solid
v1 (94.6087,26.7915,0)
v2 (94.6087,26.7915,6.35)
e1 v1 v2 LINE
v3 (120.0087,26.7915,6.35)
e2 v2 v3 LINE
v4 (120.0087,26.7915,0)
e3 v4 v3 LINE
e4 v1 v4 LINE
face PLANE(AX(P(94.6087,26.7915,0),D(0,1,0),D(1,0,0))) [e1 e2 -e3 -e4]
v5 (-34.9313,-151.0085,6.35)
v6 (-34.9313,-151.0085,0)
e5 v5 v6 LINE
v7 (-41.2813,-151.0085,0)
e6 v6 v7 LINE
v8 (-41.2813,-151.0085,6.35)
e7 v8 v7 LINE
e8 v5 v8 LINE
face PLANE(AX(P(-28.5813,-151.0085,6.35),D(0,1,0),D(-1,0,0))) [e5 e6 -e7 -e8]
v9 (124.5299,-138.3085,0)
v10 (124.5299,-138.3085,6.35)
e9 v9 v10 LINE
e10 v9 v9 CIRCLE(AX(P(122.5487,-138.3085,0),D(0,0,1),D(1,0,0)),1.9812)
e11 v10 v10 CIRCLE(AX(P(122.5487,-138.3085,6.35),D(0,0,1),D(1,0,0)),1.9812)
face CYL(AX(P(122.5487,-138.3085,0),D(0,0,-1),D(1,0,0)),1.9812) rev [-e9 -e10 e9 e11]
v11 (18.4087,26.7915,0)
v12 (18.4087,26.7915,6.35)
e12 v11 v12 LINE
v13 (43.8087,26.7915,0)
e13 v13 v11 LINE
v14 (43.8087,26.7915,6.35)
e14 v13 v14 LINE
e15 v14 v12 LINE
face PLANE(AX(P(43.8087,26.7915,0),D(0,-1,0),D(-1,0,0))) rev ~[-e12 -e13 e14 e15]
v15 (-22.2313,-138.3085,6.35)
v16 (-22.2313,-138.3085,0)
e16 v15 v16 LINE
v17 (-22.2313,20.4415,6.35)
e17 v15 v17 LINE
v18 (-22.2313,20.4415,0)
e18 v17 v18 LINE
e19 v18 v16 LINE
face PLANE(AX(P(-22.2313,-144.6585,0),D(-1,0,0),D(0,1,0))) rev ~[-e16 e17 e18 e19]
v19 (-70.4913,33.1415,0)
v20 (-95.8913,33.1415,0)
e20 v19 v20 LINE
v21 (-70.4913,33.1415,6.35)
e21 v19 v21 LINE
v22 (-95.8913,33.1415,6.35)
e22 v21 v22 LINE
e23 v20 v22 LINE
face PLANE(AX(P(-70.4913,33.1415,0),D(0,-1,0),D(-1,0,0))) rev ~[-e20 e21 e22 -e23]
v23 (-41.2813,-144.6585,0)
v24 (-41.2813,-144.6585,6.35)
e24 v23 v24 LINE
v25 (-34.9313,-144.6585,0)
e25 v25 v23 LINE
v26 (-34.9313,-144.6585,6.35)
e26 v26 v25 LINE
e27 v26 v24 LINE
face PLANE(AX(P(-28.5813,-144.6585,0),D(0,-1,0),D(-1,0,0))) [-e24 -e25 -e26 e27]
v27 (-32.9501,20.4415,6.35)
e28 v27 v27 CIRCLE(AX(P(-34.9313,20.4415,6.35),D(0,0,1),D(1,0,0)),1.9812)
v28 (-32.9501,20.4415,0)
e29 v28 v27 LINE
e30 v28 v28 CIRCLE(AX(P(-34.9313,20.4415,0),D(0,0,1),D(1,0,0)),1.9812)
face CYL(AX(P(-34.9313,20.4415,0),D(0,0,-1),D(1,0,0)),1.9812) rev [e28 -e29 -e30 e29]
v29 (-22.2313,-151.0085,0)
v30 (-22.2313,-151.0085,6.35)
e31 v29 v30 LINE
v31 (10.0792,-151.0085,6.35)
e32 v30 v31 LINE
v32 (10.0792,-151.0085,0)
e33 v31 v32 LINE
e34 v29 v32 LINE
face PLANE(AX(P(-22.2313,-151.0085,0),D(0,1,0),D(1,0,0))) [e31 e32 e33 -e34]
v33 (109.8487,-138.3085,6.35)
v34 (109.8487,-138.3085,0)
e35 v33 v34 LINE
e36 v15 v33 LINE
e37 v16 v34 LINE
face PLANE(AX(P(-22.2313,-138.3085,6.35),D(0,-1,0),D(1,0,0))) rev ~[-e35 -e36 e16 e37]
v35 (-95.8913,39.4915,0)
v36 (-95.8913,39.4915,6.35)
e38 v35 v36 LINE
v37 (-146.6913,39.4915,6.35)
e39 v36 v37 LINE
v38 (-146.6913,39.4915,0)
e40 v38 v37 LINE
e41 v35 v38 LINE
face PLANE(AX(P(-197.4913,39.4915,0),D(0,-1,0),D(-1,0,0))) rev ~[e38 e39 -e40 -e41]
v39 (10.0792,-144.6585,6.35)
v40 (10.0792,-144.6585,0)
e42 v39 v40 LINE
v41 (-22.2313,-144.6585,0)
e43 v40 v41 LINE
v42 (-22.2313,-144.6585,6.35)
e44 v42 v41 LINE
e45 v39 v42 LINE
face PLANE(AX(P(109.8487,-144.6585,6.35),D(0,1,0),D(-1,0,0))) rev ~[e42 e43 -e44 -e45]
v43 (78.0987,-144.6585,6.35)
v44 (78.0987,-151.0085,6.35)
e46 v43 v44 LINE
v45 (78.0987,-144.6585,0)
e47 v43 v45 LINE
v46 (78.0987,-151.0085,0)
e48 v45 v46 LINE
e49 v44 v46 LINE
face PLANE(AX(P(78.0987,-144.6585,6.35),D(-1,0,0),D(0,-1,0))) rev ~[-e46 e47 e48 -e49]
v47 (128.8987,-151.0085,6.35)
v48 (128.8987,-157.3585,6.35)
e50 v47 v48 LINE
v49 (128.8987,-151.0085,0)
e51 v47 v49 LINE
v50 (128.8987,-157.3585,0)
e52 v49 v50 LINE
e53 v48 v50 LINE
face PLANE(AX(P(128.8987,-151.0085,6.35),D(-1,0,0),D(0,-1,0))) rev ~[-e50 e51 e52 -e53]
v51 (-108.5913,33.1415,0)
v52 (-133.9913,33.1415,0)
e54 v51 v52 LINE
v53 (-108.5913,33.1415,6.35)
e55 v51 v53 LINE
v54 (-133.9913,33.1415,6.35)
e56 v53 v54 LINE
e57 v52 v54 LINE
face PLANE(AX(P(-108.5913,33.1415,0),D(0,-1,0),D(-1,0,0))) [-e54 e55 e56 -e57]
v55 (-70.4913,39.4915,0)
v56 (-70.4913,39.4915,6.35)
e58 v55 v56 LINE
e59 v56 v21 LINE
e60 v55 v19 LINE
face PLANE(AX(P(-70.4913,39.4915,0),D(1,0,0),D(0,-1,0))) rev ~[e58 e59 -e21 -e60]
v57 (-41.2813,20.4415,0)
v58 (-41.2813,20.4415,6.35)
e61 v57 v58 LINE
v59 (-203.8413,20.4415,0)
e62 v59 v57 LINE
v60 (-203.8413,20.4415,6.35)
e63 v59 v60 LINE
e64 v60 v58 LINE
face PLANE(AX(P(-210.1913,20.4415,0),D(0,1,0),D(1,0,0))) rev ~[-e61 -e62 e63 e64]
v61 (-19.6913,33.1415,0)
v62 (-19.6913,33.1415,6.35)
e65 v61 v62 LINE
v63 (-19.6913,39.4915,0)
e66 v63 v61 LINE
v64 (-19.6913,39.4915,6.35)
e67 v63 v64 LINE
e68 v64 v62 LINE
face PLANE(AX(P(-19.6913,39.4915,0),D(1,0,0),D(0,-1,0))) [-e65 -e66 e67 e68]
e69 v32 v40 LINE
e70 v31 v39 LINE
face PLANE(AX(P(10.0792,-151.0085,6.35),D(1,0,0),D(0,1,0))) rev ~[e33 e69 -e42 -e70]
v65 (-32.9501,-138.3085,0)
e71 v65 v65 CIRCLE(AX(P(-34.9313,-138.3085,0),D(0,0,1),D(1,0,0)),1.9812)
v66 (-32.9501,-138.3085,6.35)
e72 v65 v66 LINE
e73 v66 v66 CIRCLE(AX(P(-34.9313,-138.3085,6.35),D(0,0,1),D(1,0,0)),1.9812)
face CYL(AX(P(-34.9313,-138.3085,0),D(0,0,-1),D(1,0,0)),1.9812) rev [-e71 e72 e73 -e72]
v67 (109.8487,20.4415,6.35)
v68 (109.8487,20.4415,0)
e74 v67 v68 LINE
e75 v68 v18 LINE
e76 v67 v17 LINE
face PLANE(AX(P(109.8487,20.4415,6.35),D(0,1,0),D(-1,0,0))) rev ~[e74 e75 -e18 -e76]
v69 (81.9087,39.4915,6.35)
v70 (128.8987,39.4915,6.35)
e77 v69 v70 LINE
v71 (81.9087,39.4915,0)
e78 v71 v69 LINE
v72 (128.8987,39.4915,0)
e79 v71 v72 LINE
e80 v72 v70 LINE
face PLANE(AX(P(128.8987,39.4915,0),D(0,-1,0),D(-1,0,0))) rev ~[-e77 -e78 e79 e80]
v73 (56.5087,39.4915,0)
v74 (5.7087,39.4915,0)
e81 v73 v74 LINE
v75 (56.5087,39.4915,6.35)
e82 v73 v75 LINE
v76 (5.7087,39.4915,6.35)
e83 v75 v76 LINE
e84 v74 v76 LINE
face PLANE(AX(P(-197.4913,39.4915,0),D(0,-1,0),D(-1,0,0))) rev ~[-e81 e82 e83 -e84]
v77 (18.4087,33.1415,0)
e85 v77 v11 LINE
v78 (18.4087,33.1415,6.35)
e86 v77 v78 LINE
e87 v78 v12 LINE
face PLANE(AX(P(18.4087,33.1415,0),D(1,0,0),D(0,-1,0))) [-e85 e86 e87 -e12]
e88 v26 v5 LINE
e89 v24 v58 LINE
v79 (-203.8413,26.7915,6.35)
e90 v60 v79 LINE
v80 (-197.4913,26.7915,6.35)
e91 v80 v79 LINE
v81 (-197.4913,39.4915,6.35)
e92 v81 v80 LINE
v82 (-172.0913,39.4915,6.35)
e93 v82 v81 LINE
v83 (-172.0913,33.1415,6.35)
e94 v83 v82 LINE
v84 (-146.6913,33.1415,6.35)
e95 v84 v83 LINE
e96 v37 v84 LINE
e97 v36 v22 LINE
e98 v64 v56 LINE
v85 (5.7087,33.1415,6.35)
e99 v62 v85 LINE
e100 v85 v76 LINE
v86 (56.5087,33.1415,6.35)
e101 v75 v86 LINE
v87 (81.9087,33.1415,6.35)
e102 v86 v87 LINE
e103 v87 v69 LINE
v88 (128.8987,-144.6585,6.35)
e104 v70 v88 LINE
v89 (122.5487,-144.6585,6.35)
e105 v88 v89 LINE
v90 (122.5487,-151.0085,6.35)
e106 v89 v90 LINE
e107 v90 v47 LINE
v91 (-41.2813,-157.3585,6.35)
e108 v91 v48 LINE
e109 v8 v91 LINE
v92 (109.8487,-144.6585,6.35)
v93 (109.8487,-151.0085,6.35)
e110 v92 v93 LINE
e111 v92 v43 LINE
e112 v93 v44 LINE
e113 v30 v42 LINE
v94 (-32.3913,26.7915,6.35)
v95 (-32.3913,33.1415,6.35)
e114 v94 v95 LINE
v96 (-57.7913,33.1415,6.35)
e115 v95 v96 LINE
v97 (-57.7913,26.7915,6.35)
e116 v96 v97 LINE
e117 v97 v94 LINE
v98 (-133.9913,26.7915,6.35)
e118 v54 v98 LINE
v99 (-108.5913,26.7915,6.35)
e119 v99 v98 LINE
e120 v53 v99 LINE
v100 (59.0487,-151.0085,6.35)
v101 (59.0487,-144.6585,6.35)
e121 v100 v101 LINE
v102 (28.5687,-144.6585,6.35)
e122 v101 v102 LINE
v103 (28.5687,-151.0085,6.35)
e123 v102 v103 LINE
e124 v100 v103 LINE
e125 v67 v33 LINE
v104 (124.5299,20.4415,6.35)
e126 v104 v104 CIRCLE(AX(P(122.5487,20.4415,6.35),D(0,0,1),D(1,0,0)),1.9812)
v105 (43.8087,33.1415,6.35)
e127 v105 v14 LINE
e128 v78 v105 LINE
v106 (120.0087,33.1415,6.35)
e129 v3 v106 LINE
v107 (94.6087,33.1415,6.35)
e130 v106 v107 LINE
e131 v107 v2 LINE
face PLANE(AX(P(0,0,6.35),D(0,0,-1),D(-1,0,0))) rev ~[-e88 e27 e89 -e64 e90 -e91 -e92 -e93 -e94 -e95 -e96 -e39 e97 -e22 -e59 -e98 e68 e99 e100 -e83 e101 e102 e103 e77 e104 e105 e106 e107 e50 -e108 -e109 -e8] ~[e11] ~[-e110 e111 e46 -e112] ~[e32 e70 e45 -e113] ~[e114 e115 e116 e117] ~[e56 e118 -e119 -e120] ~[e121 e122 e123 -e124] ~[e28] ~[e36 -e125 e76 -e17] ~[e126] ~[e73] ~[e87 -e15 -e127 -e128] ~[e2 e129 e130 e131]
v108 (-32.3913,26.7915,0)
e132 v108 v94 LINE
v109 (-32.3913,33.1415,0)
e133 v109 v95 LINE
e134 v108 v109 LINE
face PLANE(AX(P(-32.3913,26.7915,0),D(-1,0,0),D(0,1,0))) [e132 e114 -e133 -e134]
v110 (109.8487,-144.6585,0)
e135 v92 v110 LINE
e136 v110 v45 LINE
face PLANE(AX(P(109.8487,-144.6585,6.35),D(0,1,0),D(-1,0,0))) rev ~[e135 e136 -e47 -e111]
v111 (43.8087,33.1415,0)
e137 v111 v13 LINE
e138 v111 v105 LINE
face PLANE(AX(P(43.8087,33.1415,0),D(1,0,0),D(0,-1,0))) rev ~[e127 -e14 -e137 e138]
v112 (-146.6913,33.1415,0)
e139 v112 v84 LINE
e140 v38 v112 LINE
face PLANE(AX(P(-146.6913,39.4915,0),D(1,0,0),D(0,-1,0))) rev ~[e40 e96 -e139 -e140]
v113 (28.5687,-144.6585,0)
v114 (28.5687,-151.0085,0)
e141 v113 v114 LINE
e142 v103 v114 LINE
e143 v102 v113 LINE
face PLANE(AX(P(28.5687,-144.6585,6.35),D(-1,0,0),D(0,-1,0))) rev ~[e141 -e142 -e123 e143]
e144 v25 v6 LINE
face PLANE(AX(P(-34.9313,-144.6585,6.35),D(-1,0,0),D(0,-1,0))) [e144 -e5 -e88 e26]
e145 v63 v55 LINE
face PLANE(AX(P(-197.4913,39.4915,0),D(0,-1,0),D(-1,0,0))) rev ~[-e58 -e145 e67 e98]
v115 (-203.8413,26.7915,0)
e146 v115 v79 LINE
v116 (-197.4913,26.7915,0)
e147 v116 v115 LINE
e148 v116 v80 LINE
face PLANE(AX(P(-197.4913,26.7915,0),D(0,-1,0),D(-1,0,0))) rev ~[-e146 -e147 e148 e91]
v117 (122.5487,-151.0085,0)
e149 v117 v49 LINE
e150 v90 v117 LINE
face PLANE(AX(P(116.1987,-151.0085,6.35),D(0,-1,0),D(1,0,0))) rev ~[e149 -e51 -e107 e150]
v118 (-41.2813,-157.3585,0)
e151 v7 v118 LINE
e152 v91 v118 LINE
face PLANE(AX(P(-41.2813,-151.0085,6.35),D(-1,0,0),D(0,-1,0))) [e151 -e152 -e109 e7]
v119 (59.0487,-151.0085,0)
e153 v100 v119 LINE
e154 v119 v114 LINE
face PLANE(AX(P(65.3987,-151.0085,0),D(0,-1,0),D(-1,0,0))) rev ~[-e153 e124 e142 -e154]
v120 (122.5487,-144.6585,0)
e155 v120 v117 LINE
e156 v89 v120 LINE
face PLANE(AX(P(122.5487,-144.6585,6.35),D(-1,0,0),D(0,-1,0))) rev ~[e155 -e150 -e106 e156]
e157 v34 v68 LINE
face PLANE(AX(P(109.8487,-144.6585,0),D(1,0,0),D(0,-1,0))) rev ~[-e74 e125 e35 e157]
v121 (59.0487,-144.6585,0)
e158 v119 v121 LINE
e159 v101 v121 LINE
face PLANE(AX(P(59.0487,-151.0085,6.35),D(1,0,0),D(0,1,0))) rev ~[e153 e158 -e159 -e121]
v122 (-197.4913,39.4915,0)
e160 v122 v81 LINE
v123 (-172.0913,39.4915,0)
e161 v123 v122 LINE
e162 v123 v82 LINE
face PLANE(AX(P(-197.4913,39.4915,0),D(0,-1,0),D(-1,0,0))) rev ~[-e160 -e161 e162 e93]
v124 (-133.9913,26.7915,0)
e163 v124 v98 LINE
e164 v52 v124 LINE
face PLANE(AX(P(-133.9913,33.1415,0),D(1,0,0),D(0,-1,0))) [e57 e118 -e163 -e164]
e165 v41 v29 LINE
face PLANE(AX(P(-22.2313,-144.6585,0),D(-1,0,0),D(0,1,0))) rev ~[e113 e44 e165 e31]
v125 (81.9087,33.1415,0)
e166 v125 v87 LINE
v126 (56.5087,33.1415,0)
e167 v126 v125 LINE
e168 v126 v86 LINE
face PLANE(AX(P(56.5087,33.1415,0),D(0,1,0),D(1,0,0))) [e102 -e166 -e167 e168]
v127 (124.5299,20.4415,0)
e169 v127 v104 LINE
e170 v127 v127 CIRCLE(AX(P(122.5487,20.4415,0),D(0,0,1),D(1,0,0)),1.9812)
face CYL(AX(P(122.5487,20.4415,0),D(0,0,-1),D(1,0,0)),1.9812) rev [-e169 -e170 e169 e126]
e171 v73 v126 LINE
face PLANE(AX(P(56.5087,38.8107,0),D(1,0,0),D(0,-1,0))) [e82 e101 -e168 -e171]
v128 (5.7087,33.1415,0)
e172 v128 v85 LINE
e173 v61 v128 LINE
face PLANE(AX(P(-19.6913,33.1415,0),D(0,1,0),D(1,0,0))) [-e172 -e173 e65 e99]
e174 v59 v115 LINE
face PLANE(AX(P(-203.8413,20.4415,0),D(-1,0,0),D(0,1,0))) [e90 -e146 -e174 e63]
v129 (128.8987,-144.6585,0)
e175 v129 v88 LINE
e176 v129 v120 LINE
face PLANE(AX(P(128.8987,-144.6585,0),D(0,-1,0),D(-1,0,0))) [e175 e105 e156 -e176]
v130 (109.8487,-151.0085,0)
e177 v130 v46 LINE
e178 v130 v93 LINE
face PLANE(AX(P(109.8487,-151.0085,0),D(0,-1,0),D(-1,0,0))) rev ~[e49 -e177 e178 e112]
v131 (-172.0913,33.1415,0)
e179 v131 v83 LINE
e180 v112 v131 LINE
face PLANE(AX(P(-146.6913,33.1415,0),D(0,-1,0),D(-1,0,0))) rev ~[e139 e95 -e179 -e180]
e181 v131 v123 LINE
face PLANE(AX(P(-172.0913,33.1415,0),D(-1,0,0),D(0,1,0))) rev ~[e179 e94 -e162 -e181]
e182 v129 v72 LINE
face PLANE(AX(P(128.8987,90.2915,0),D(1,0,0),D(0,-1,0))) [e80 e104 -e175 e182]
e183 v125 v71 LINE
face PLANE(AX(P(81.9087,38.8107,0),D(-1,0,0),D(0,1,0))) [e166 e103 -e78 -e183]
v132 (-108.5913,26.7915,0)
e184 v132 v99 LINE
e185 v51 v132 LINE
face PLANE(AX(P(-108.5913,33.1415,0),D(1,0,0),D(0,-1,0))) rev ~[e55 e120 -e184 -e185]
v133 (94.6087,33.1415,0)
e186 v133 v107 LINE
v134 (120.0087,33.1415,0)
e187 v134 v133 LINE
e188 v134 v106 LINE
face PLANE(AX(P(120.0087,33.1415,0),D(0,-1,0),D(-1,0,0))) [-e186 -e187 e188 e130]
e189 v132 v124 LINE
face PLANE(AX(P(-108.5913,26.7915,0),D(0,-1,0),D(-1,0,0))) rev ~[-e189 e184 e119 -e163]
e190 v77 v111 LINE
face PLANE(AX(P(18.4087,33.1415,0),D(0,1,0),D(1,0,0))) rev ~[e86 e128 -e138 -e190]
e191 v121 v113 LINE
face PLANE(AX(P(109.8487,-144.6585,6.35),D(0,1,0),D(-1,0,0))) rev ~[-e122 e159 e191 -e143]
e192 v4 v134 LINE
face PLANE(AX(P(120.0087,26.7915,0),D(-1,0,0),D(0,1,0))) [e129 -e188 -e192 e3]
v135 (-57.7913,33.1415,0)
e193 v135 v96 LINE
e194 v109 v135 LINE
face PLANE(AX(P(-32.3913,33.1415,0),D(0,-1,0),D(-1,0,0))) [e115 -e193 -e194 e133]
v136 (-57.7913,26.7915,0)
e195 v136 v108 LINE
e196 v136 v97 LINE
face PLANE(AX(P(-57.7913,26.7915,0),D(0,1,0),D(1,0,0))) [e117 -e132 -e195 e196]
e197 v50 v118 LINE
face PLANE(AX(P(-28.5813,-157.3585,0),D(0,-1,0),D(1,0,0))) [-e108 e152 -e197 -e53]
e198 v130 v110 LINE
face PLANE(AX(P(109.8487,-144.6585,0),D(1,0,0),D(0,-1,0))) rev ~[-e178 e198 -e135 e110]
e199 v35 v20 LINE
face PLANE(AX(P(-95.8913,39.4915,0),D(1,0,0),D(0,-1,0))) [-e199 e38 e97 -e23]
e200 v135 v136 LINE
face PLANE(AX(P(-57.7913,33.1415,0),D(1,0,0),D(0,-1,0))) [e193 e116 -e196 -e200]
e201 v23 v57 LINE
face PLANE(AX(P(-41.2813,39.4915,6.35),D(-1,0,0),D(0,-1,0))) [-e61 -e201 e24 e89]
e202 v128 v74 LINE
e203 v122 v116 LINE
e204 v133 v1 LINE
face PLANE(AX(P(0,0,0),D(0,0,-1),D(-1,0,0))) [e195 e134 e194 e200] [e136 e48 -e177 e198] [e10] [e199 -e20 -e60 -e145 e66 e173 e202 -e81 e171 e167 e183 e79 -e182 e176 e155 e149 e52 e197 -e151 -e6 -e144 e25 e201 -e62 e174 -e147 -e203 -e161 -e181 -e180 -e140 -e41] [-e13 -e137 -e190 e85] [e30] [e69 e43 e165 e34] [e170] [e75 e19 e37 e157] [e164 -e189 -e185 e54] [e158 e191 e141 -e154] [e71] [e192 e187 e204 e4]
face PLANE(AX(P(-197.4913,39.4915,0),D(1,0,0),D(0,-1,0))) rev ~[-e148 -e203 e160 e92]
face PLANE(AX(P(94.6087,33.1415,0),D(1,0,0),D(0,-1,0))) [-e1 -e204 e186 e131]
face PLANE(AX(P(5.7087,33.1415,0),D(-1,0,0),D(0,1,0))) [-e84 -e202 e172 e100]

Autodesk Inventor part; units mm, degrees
ref_plane "YZ Plane" through (0, 0, 0) normal (1, 0, 0) x (0, 1, 0)
ref_plane "XZ Plane" through (0, 0, 0) normal (0, 1, 0) x (-1, 0, 0)
ref_plane "XY Plane" through (0, 0, 0) normal (0, 0, 1) x (1, 0, 0)
sketch "Sketch1" plane through (0, 0, 0) normal (0, 0, 1) x (1, 0, 0)
  line L0 (-22.2313, 26.7915) -> (109.8487, 26.7915)
  line L1 (109.8487, 26.7915) -> (109.8487, -144.6585)
  line L2 (109.8487, -144.6585) -> (-22.2313, -144.6585)
  line L3 (-22.2313, -144.6585) -> (-22.2313, 26.7915)
  line L4 (-22.2313, 26.7915) -> (-28.5813, 26.7915)
  line L5 (-28.5813, 26.7915) -> (-28.5813, 39.4915)
  line L6 (-28.5813, 39.4915) -> (116.1987, 39.4915)
  line L7 (116.1987, 39.4915) -> (116.1987, 26.7915)
  line L8 (116.1987, 26.7915) -> (128.8987, 26.7915)
  line L9 (128.8987, 26.7915) -> (128.8987, 14.0915)
  line L10 (128.8987, 14.0915) -> (116.1987, 14.0915)
  line L11 (116.1987, 14.0915) -> (116.1987, -131.9585)
  line L12 (116.1987, -131.9585) -> (128.8987, -131.9585)
  line L13 (128.8987, -131.9585) -> (128.8987, -144.6585)
  line L14 (128.8987, -144.6585) -> (116.1987, -144.6585)
  line L15 (116.1987, -144.6585) -> (116.1987, -154.1835)
  line L16 (116.1987, -154.1835) -> (-28.5813, -154.1835)
  line L17 (-28.5813, -154.1835) -> (-28.5813, -144.6585)
  line L18 (-28.5813, -144.6585) -> (-41.2813, -144.6585)
  line L19 (-41.2813, -144.6585) -> (-41.2813, -131.9585)
  line L20 (-41.2813, -131.9585) -> (-28.5813, -131.9585)
  line L21 (-28.5813, -131.9585) -> (-28.5813, 14.0915)
  line L22 (-28.5813, 14.0915) -> (-41.2813, 14.0915)
  line L23 (-41.2813, 14.0915) -> (-41.2813, 26.7915)
  line L24 (-41.2813, 26.7915) -> (-28.5813, 26.7915)
  line L25 (-22.2313, -144.6585) -> (-22.2313, -151.0085)
  line L26 (-22.2313, -151.0085) -> (15.8687, -151.0085)
  line L27 (15.8687, -151.0085) -> (15.8687, -144.6585)
  line L28 (15.8687, -144.6585) -> (22.2187, -144.6585)
  line L29 (22.2187, -144.6585) -> (22.2187, -151.0085)
  line L30 (109.8487, -144.6585) -> (109.8487, -151.0085)
  line L31 (109.8487, -151.0085) -> (71.7487, -151.0085)
  line L32 (71.7487, -151.0085) -> (71.7487, -144.6585)
  line L33 (71.7487, -144.6585) -> (65.3987, -144.6585)
  line L34 (65.3987, -144.6585) -> (65.3987, -151.0085)
  line L35 (65.3987, -151.0085) -> (22.2187, -151.0085)
  line L36 (-22.2313, 26.7915) -> (-22.2313, 33.1415)
  line L37 (-22.2313, 33.1415) -> (15.8687, 33.1415)
  line L38 (15.8687, 33.1415) -> (15.8687, 26.7915)
  line L39 (22.2187, 26.7915) -> (22.2187, 33.1415)
  line L40 (22.2187, 33.1415) -> (65.3987, 33.1415)
  line L41 (65.3987, 33.1415) -> (65.3987, 26.7915)
  line L42 (71.7487, 26.7915) -> (71.7487, 33.1415)
  line L43 (71.7487, 33.1415) -> (109.8487, 33.1415)
  line L44 (109.8487, 33.1415) -> (109.8487, 26.7915)
  circle A0 centre (-34.9313, 20.4415) radius 1.9812
  circle A1 centre (122.5487, 20.4415) radius 1.9812
  circle A2 centre (122.5487, -138.3085) radius 1.9812
  circle A3 centre (-34.9313, -138.3085) radius 1.9812
  point P0 (0, 0)
  dimension "d0" = 132.08
  dimension "d1" = 171.45
  dimension "d2" = 6.35
  dimension "d3" = 12.7
  dimension "d4" = 144.78
  dimension "d5" = 12.7
  dimension "d6" = 12.7
  dimension "d7" = 146.05
  dimension "d8" = 9.525
  dimension "d9" = 12.7
  dimension "d10" = 6.35
  dimension "d11" = 38.1
  dimension "d12" = 6.35
  dimension "d13" = 38.1
  dimension "d14" = 6.35
  dimension "d15" = 3.9624
  dimension "d16" = 3.9624
extrude "Extrusion1" add sketch "Sketch1" along normal blind 6.35
sketch "Sketch2" plane through (-28.5813, -154.1835, 0) normal (0, -1, 0) x (1, 0, 0)
  line L0 (144.78, 6.35) -> (0, 6.35) projected
  line L1 (0, 0) -> (0, 6.35) projected
  line L2 (0, 0) -> (144.78, 0) projected
  line L3 (144.78, 0) -> (144.78, 6.35) projected
  point P0 (28.5813, 0)
extrude "Extrusion2" add sketch "Sketch2" along normal blind 3.175
sketch "Sketch3" plane through (0, 0, 6.35) normal (0, 0, 1) x (1, 0, 0)
  line L0 (-28.5813, 14.0915) -> (-41.2813, 14.0915) projected
  line L1 (-28.5813, -131.9585) -> (-28.5813, 14.0915) projected
  line L2 (-41.2813, -131.9585) -> (-28.5813, -131.9585) projected
  line L3 (116.1987, -131.9585) -> (128.8987, -131.9585) projected
  line L4 (116.1987, 14.0915) -> (116.1987, -131.9585) projected
  line L5 (128.8987, 14.0915) -> (116.1987, 14.0915) projected
  line L6 (71.7487, 33.1415) -> (109.8487, 33.1415) projected
  line L7 (-41.2813, 14.0915) -> (-41.2813, -131.9585)
  line L8 (128.8987, 14.0915) -> (128.8987, -131.9585)
  point P0 (0, 0)
extrude "Extrusion3" add sketch "Sketch3" against normal blind 6.35
sketch "Sketch4" plane through (0, 0, 6.35) normal (0, 0, 1) x (1, 0, 0)
  line L0 (-28.5813, -157.3585) -> (-28.5813, -144.6585) projected
  line L1 (-28.5813, -157.3585) -> (116.1987, -157.3585) projected
  line L2 (116.1987, -144.6585) -> (116.1987, -157.3585) projected
  line L3 (109.8487, 33.1415) -> (109.8487, -151.0085) projected
  line L4 (-22.2313, -151.0085) -> (-22.2313, 33.1415) projected
  line L5 (15.8687, 26.7915) -> (22.2187, 26.7915) projected
  line L6 (71.7487, 33.1415) -> (109.8487, 33.1415) projected
  line L7 (15.8687, 26.7915) -> (-22.2313, 26.7915)
  line L8 (22.2187, 26.7915) -> (109.8487, 26.7915)
  line L9 (109.8487, 26.7915) -> (109.8487, 20.4415)
  line L10 (109.8487, 20.4415) -> (-22.2313, 20.4415)
  line L11 (-22.2313, 20.4415) -> (-22.2313, 26.7915)
  line L12 (-22.2313, -144.6585) -> (-22.2313, -138.3085)
  line L13 (-22.2313, -138.3085) -> (109.8487, -138.3085)
  line L14 (109.8487, -144.6585) -> (-22.2313, -144.6585)
  line L15 (-28.5813, -151.0085) -> (-41.2813, -151.0085)
  line L16 (-41.2813, -151.0085) -> (-41.2813, -157.3585)
  line L17 (-41.2813, -157.3585) -> (-28.5813, -157.3585)
  line L18 (116.1987, -151.0085) -> (128.8987, -151.0085)
  line L19 (128.8987, -151.0085) -> (128.8987, -157.3585)
  line L20 (128.8987, -157.3585) -> (116.1987, -157.3585)
  point P0 (0, 0)
extrude "Extrusion4" add sketch "Sketch4" against normal blind 6.35 contours L17 L16 L15 L0 | L2 L18 L19 L20 | L3 L10 L4 L7 L5 L8 | L3 L14 L4 L13
sketch "Sketch5" plane through (0, 0, 6.35) normal (0, 0, 1) x (1, 0, 0)
  line L0 (-28.5813, 26.7915) -> (-28.5813, 39.4915) projected
  line L1 (116.1987, 39.4915) -> (116.1987, 26.7915) projected
  line L2 (15.8687, 33.1415) -> (15.8687, 26.7915) projected
  line L3 (-28.5813, 39.4915) -> (-41.2813, 39.4915)
  line L4 (-41.2813, 39.4915) -> (-41.2813, 33.1415)
  line L5 (-41.2813, 33.1415) -> (-28.5813, 33.1415)
  line L6 (116.1987, 39.4915) -> (128.8987, 39.4915)
  line L7 (128.8987, 39.4915) -> (128.8987, 33.1415)
  line L8 (128.8987, 33.1415) -> (116.1987, 33.1415)
  point P0 (0, 0)
extrude "Extrusion5" add sketch "Sketch5" against normal blind 6.35
sketch "Sketch6" plane through (0, 0, 6.35) normal (0, 0, 1) x (1, 0, 0)
  line L0 (65.3987, -151.0085) -> (22.2187, -151.0085) projected
  line L1 (22.2187, -144.6585) -> (65.3987, -144.6585) projected
  line L2 (-22.2313, -144.6585) -> (15.8687, -144.6585) projected
  line L3 (109.8487, -151.0085) -> (71.7487, -151.0085) projected
  line L4 (65.3987, 26.7915) -> (22.2187, 26.7915) projected
  line L5 (109.8487, 26.7915) -> (71.7487, 26.7915) projected
  line L6 (-41.2813, 26.7915) -> (-28.5813, 26.7915) projected
  line L7 (-28.5813, -151.0085) -> (-41.2813, -151.0085) projected
  line L8 (128.8987, -151.0085) -> (116.1987, -151.0085) projected
  line L9 (116.1987, 26.7915) -> (128.8987, 26.7915) projected
  line L10 (-28.5813, 33.1415) -> (-34.9313, 33.1415)
  line L11 (-34.9313, 33.1415) -> (-34.9313, 26.7915)
  line L12 (-34.9313, 26.7915) -> (-28.5813, 26.7915)
  line L13 (-28.5813, 26.7915) -> (-28.5813, 33.1415)
  line L14 (15.8687, 33.1415) -> (10.0792, 33.1415)
  line L15 (10.0792, 33.1415) -> (10.0792, 26.7915)
  line L16 (10.0792, 26.7915) -> (15.8687, 26.7915)
  line L17 (15.8687, 26.7915) -> (15.8687, 33.1415)
  line L18 (22.2187, 33.1415) -> (28.5687, 33.1415)
  line L19 (28.5687, 33.1415) -> (28.5687, 26.7915)
  line L20 (28.5687, 26.7915) -> (22.2187, 26.7915)
  line L21 (22.2187, 26.7915) -> (22.2187, 33.1415)
  line L22 (65.3987, 33.1415) -> (59.0487, 33.1415)
  line L23 (59.0487, 33.1415) -> (59.0487, 26.7915)
  line L24 (59.0487, 26.7915) -> (65.3987, 26.7915)
  line L25 (65.3987, 26.7915) -> (65.3987, 33.1415)
  line L26 (71.7487, 33.1415) -> (78.0987, 33.1415)
  line L27 (78.0987, 33.1415) -> (78.0987, 26.7915)
  line L28 (78.0987, 26.7915) -> (71.7487, 26.7915)
  line L29 (71.7487, 26.7915) -> (71.7487, 33.1415)
  line L30 (116.1987, 33.1415) -> (122.5487, 33.1415)
  line L31 (122.5487, 33.1415) -> (122.5487, 26.7915)
  line L32 (122.5487, 26.7915) -> (116.1987, 26.7915)
  line L33 (116.1987, 26.7915) -> (116.1987, 33.1415)
  line L34 (-28.5813, -144.6585) -> (-34.9313, -144.6585)
  line L35 (-34.9313, -144.6585) -> (-34.9313, -151.0085)
  line L36 (-34.9313, -151.0085) -> (-28.5813, -151.0085)
  line L37 (-28.5813, -151.0085) -> (-28.5813, -144.6585)
  line L38 (10.0792, -144.6585) -> (28.5687, -144.6585)
  line L39 (28.5687, -144.6585) -> (28.5687, -151.0085)
  line L40 (28.5687, -151.0085) -> (10.0792, -151.0085)
  line L41 (10.0792, -151.0085) -> (10.0792, -144.6585)
  line L42 (59.0487, -144.6585) -> (78.0987, -144.6585)
  line L43 (78.0987, -144.6585) -> (78.0987, -151.0085)
  line L44 (78.0987, -151.0085) -> (59.0487, -151.0085)
  line L45 (59.0487, -151.0085) -> (59.0487, -144.6585)
  line L46 (116.1987, -144.6585) -> (122.5487, -144.6585)
  line L47 (122.5487, -144.6585) -> (122.5487, -151.0085)
  line L48 (122.5487, -151.0085) -> (116.1987, -151.0085)
  line L49 (116.1987, -151.0085) -> (116.1987, -144.6585)
  point P0 (0, 0)
  dimension "d27" = 6.35
  dimension "d28" = 6.35
  dimension "d29" = 6.35
  dimension "d30" = 6.35
  dimension "d31" = 6.35
extrude "Extrusion6" add sketch "Sketch6" against normal blind 6.35 contours L0 L45 L1 L42 L43 L3 L44 | L0 L40 L41 L2 L38 L1 L39 | L4 L21 L18 L19 | L4 L23 L22 L25 | L5 L29 L26 L27 | L11 L10 L13 L6 | L7 L35 L34 L37 | L8 L49 L46 L47 | L33 L30 L31 L9 | L17 L16 L15 L14
sketch "Sketch7" plane through (0, 0, 0) normal (0, 0, -1) x (-1, 0, 0)
  line L0 (-128.8987, 39.4915) -> (-90.7987, 39.4915)
  line L1 (-90.7987, 39.4915) -> (-90.7987, 115.6915)
  line L2 (-90.7987, 115.6915) -> (-128.8987, 115.6915)
  line L3 (-128.8987, 115.6915) -> (-128.8987, 39.4915)
  line L4 (-90.7987, 39.4915) -> (41.2813, 39.4915)
  line L5 (41.2813, 39.4915) -> (41.2813, 64.8915)
  line L6 (41.2813, 64.8915) -> (-90.7987, 64.8915)
  line L7 (-90.7987, 64.8915) -> (-90.7987, 39.4915)
  point P0 (0, 0)
  dimension "d34" = 38.1
  dimension "d35" = 76.2
  dimension "d36" = 25.4
extrude "Extrusion7" add sketch "Sketch7" against normal blind 6.35
sketch "Sketch8" plane through (0, 0, 0) normal (0, 0, -1) x (-1, 0, 0)
  line L0 (41.2813, 64.8915) -> (210.1913, 64.8915)
  line L1 (210.1913, 64.8915) -> (210.1913, 39.4915)
  line L2 (210.1913, 39.4915) -> (41.2813, 39.4915)
  line L3 (41.2813, 39.4915) -> (41.2813, 64.8915)
  line L4 (210.1913, 64.8915) -> (172.0913, 64.8915)
  line L5 (172.0913, 64.8915) -> (172.0913, 115.6915)
  line L6 (172.0913, 115.6915) -> (210.1913, 115.6915)
  line L7 (210.1913, 115.6915) -> (210.1913, 64.8915)
  point P0 (0, 0)
  dimension "d39" = 168.91
  dimension "d40" = 25.4
  dimension "d41" = 38.1
extrude "Extrusion8" add sketch "Sketch8" against normal blind 6.35
sketch "Sketch9" plane through (0, 0, 0) normal (0, 0, -1) x (-1, 0, 0)
  line L0 (-109.8487, 26.7915) -> (-109.8487, 33.1415) projected
  line L1 (-109.8487, 33.1415) -> (-78.0987, 33.1415) projected
  line L2 (-78.0987, 26.7915) -> (-78.0987, 33.1415) projected
  line L3 (-109.8487, 26.7915) -> (-78.0987, 26.7915) projected
  line L4 (-10.0792, 33.1415) -> (-10.0792, 26.7915) projected
  line L5 (-10.0792, 33.1415) -> (22.2313, 33.1415) projected
  line L6 (22.2313, 33.1415) -> (22.2313, 26.7915) projected
  line L7 (-10.0792, 26.7915) -> (22.2313, 26.7915) projected
  line L8 (-59.0487, 33.1415) -> (-28.5687, 33.1415) projected
  line L9 (-28.5687, 26.7915) -> (-28.5687, 33.1415) projected
  line L10 (-59.0487, 26.7915) -> (-28.5687, 26.7915) projected
  line L11 (-59.0487, 33.1415) -> (-59.0487, 26.7915) projected
  line L12 (-128.8987, 115.6915) -> (-128.8987, 33.1415) projected
  line L13 (-128.8987, 49.764) -> (41.2813, 49.764)
  line L14 (41.2813, 49.764) -> (41.2813, 26.7915)
  line L15 (41.2813, 26.7915) -> (-128.8987, 26.7915)
  line L16 (-128.8987, 26.7915) -> (-128.8987, 49.764)
  point P0 (0, 0)
extrude "Extrusion9" add sketch "Sketch9" against normal blind 6.35
sketch "Sketch10" plane through (0, 0, 0) normal (0, 0, -1) x (-1, 0, 0)
  line L0 (41.2813, 39.4915) -> (210.1913, 39.4915)
  line L1 (210.1913, 39.4915) -> (210.1913, 20.4415)
  line L2 (210.1913, 20.4415) -> (41.2813, 20.4415)
  line L3 (41.2813, 20.4415) -> (41.2813, 39.4915)
  point P0 (0, 0)
extrude "Extrusion10" add sketch "Sketch10" against normal blind 6.35
sketch "Sketch11" plane through (0, 0, 0) normal (0, 0, -1) x (-1, 0, 0)
  line L0 (-128.8987, 115.6915) -> (-90.7987, 115.6915)
  line L1 (-90.7987, 115.6915) -> (-90.7987, 141.0915)
  line L2 (-90.7987, 141.0915) -> (-128.8987, 141.0915)
  line L3 (-128.8987, 141.0915) -> (-128.8987, 115.6915)
  line L4 (172.0913, 115.6915) -> (210.1913, 115.6915)
  line L5 (210.1913, 115.6915) -> (210.1913, 141.0915)
  line L6 (210.1913, 141.0915) -> (172.0913, 141.0915)
  line L7 (172.0913, 141.0915) -> (172.0913, 115.6915)
  point P0 (0, 0)
  dimension "d48" = 25.4
extrude "Extrusion11" add sketch "Sketch11" against normal blind 6.35
sketch "Sketch12" plane through (0, 0, 0) normal (0, 0, -1) x (-1, 0, 0)
  line L0 (210.1913, 20.4415) -> (172.0913, 20.4415)
  line L1 (172.0913, 20.4415) -> (172.0913, 26.7915)
  line L2 (172.0913, 26.7915) -> (210.1913, 26.7915)
  line L3 (210.1913, 26.7915) -> (210.1913, 20.4415)
  line L4 (172.0913, 26.7915) -> (146.6913, 26.7915)
  line L5 (146.6913, 26.7915) -> (146.6913, 33.1415)
  line L6 (146.6913, 33.1415) -> (172.0913, 33.1415)
  line L7 (172.0913, 33.1415) -> (172.0913, 26.7915)
  line L8 (146.6913, 33.1415) -> (172.0913, 33.1415)
  line L9 (172.0913, 33.1415) -> (172.0913, 39.4915)
  line L10 (172.0913, 39.4915) -> (146.6913, 39.4915)
  line L11 (146.6913, 39.4915) -> (146.6913, 33.1415)
  line L12 (146.6913, 39.4915) -> (95.8913, 39.4915)
  line L13 (95.8913, 39.4915) -> (95.8913, 33.1415)
  line L14 (95.8913, 33.1415) -> (146.6913, 33.1415)
  line L15 (146.6913, 33.1415) -> (146.6913, 39.4915)
  line L16 (95.8913, 39.4915) -> (70.4913, 39.4915)
  line L17 (70.4913, 39.4915) -> (70.4913, 33.1415)
  line L18 (70.4913, 33.1415) -> (95.8913, 33.1415)
  line L19 (95.8913, 33.1415) -> (95.8913, 39.4915)
  line L20 (146.6913, 33.1415) -> (133.9913, 33.1415)
  line L21 (133.9913, 33.1415) -> (133.9913, 26.7915)
  line L22 (133.9913, 26.7915) -> (146.6913, 26.7915)
  line L23 (146.6913, 26.7915) -> (146.6913, 33.1415)
  line L24 (133.9913, 33.1415) -> (108.5913, 33.1415)
  line L25 (108.5913, 33.1415) -> (108.5913, 26.7915)
  line L26 (108.5913, 26.7915) -> (133.9913, 26.7915)
  line L27 (133.9913, 26.7915) -> (133.9913, 33.1415)
  line L28 (70.4913, 33.1415) -> (57.7913, 33.1415)
  line L29 (57.7913, 33.1415) -> (57.7913, 26.7915)
  line L30 (57.7913, 26.7915) -> (70.4913, 26.7915)
  line L31 (70.4913, 26.7915) -> (70.4913, 33.1415)
  line L32 (57.7913, 26.7915) -> (32.3913, 26.7915)
  line L33 (32.3913, 26.7915) -> (32.3913, 33.1415)
  line L34 (32.3913, 33.1415) -> (57.7913, 33.1415)
  line L35 (57.7913, 33.1415) -> (57.7913, 26.7915)
  line L36 (32.3913, 33.1415) -> (19.6913, 33.1415)
  line L37 (19.6913, 33.1415) -> (19.6913, 26.7915)
  line L38 (19.6913, 26.7915) -> (32.3913, 26.7915)
  line L39 (32.3913, 26.7915) -> (32.3913, 33.1415)
  line L40 (19.6913, 33.1415) -> (-5.7087, 33.1415)
  line L41 (-5.7087, 33.1415) -> (-5.7087, 39.4915)
  line L42 (-5.7087, 39.4915) -> (19.6913, 39.4915)
  line L43 (19.6913, 39.4915) -> (19.6913, 33.1415)
  line L44 (-5.7087, 33.1415) -> (-18.4087, 33.1415)
  line L45 (-18.4087, 33.1415) -> (-18.4087, 26.7915)
  line L46 (-18.4087, 26.7915) -> (-5.7087, 26.7915)
  line L47 (-5.7087, 26.7915) -> (-5.7087, 33.1415)
  line L48 (-18.4087, 33.1415) -> (-43.8087, 33.1415)
  line L49 (-43.8087, 33.1415) -> (-43.8087, 26.7915)
  line L50 (-43.8087, 26.7915) -> (-18.4087, 26.7915)
  line L51 (-18.4087, 26.7915) -> (-18.4087, 33.1415)
  line L52 (-43.8087, 33.1415) -> (-56.5087, 33.1415)
  line L53 (-56.5087, 33.1415) -> (-56.5087, 26.7915)
  line L54 (-56.5087, 26.7915) -> (-43.8087, 26.7915)
  line L55 (-43.8087, 26.7915) -> (-43.8087, 33.1415)
  line L56 (-56.5087, 33.1415) -> (-81.9087, 33.1415)
  line L57 (-81.9087, 33.1415) -> (-81.9087, 38.8107)
  line L58 (-81.9087, 38.8107) -> (-56.5087, 38.8107)
  line L59 (-56.5087, 38.8107) -> (-56.5087, 33.1415)
  line L60 (-81.9087, 33.1415) -> (-94.6087, 33.1415)
  line L61 (-94.6087, 33.1415) -> (-94.6087, 26.7915)
  line L62 (-94.6087, 26.7915) -> (-81.9087, 26.7915)
  line L63 (-81.9087, 26.7915) -> (-81.9087, 33.1415)
  line L64 (-94.6087, 26.7915) -> (-120.0087, 26.7915)
  line L65 (-120.0087, 26.7915) -> (-120.0087, 33.1415)
  line L66 (-120.0087, 33.1415) -> (-94.6087, 33.1415)
  line L67 (-94.6087, 33.1415) -> (-94.6087, 26.7915)
  point P0 (0, 0)
  dimension "d51" = 6.35
  dimension "d52" = 25.4
  dimension "d53" = 6.35
  dimension "d54" = 25.4
  dimension "d55" = 6.35
  dimension "d56" = 50.8
  dimension "d57" = 25.4
  dimension "d58" = 12.7
  dimension "d59" = 25.4
  dimension "d60" = 12.7
  dimension "d61" = 25.4
  dimension "d62" = 12.7
  dimension "d63" = 25.4
  dimension "d64" = 12.7
  dimension "d65" = 25.4
  dimension "d66" = 12.7
  dimension "d67" = 25.4
  dimension "d68" = 12.7
  dimension "d69" = 25.4
extrude "Extrusion12" cut sketch "Sketch12" against normal blind 6.35 contours L56 L57 L58 L59 | L40 L41 L42 L43 | L6 L11 L10 L9 | L26 L25 L14 L21 | L13 L18 L17 L16 | L29 L32 L33 L34 | L45 L50 L49 L48 | L61 L64 L65 L66
sketch "Sketch13" plane through (0, 0, 0) normal (0, 0, -1) x (-1, 0, 0)
  line L0 (210.1913, 20.4415) -> (210.1913, 141.0915) projected
  line L1 (210.1913, 20.4415) -> (203.8413, 20.4415)
  line L2 (203.8413, 20.4415) -> (203.8413, 64.8915)
  line L3 (203.8413, 64.8915) -> (210.1913, 64.8915)
  line L4 (210.1913, 64.8915) -> (210.1913, 20.4415)
  line L5 (203.8413, 64.8915) -> (210.1913, 64.8915)
  line L6 (210.1913, 64.8915) -> (210.1913, 90.2915)
  line L7 (210.1913, 90.2915) -> (203.8413, 90.2915)
  line L8 (203.8413, 90.2915) -> (203.8413, 64.8915)
  line L9 (203.8413, 90.2915) -> (210.1913, 90.2915)
  line L10 (210.1913, 90.2915) -> (210.1913, 115.6915)
  line L11 (210.1913, 115.6915) -> (203.8413, 115.6915)
  line L12 (203.8413, 115.6915) -> (203.8413, 90.2915)
  point P0 (0, 0)
  dimension "d72" = 6.35
  dimension "d73" = 25.4
  dimension "d74" = 25.4
extrude "Extrusion13" cut sketch "Sketch13" against normal blind 6.35 contours L1 L2 L3 L0 | L7 L12 L11 L0
sketch "Sketch14" plane through (0, 0, 0) normal (0, 0, -1) x (-1, 0, 0)
  line L0 (-90.7987, 64.8915) -> (-90.7987, 141.0915) projected
  line L1 (-128.8987, -144.6585) -> (-128.8987, 141.0915) projected
  line L2 (-128.8987, 141.0915) -> (-90.7987, 141.0915)
  line L3 (-90.7987, 141.0915) -> (-90.7987, 115.6915)
  line L4 (-90.7987, 115.6915) -> (-128.8987, 115.6915)
  line L5 (-128.8987, 115.6915) -> (-128.8987, 141.0915)
  line L6 (172.0913, 141.0915) -> (210.1913, 141.0915)
  line L7 (210.1913, 141.0915) -> (210.1913, 115.6915)
  line L8 (210.1913, 115.6915) -> (172.0913, 115.6915)
  line L9 (172.0913, 115.6915) -> (172.0913, 141.0915)
  line L10 (-128.8987, 90.2915) -> (-122.5487, 90.2915)
  line L11 (-122.5487, 90.2915) -> (-122.5487, 64.8915)
  line L12 (-122.5487, 64.8915) -> (-128.8987, 64.8915)
  line L13 (-128.8987, 64.8915) -> (-128.8987, 90.2915)
  point P0 (0, 0)
extrude "Extrusion14" cut sketch "Sketch14" against normal blind 6.35
sketch "Sketch15" plane through (0, 0, 0) normal (0, 0, -1) x (-1, 0, 0)
  line L0 (203.8413, 20.4415) -> (203.8413, 64.8915) projected
  line L1 (203.8413, 39.4915) -> (197.4913, 39.4915)
  line L2 (197.4913, 39.4915) -> (197.4913, 26.7915)
  line L3 (197.4913, 26.7915) -> (203.8413, 26.7915)
  line L4 (203.8413, 26.7915) -> (203.8413, 39.4915)
  point P0 (0, 0)
  dimension "d79" = 6.35
extrude "Extrusion15" cut sketch "Sketch15" against normal blind 6.35
sketch "Sketch16" plane through (0, 0, 0) normal (0, 0, -1) x (-1, 0, 0)
  line L0 (-128.8987, 90.2915) -> (-109.8487, 90.2915)
  line L1 (-109.8487, 90.2915) -> (-109.8487, 77.5915)
  line L2 (-109.8487, 77.5915) -> (-128.8987, 77.5915)
  line L3 (-128.8987, 77.5915) -> (-128.8987, 90.2915)
  line L4 (172.0913, 115.6915) -> (191.1413, 115.6915)
  line L5 (191.1413, 115.6915) -> (191.1413, 83.9415)
  line L6 (191.1413, 83.9415) -> (172.0913, 83.9415)
  line L7 (172.0913, 83.9415) -> (172.0913, 115.6915)
  circle A0 centre (-109.8487, 77.5915) radius 1.9812
  circle A1 centre (191.1413, 83.9415) radius 1.9812
  point P0 (0, 0)
  dimension "d82" = 19.05
  dimension "d83" = 3.9624
  dimension "d84" = 3.9624
extrude "Extrusion16" cut sketch "Sketch16" against normal blind 6.35 contours A0 L2 L1 | L1 L2 A0 | A1 L6 L5 | L5 L6 A1
sketch "Sketch17" plane through (0, 0, 0) normal (0, 0, -1) x (-1, 0, 0)
  line L0 (-122.5487, 90.2915) -> (-128.8987, 90.2915)
  line L1 (-128.8987, 90.2915) -> (-128.8987, 64.8915)
  line L2 (-128.8987, 64.8915) -> (-122.5487, 64.8915)
  line L3 (-122.5487, 64.8915) -> (-122.5487, 90.2915)
  point P0 (0, 0)
extrude "Extrusion17" add sketch "Sketch17" against normal blind 6.35
sketch "Sketch18" plane through (0, 0, 0) normal (0, 0, -1) x (-1, 0, 0)
  line L0 (-128.8987, -144.6585) -> (-128.8987, 115.6915) projected
  line L1 (-128.8987, 115.6915) -> (-122.5487, 115.6915)
  line L2 (-122.5487, 115.6915) -> (-122.5487, 90.2915)
  line L3 (-122.5487, 90.2915) -> (-128.8987, 90.2915)
  line L4 (-128.8987, 90.2915) -> (-128.8987, 115.6915)
  line L5 (-128.8987, 90.2915) -> (-122.5487, 90.2915)
  line L6 (-122.5487, 90.2915) -> (-122.5487, 64.8915)
  line L7 (-122.5487, 64.8915) -> (-128.8987, 64.8915)
  line L8 (-128.8987, 64.8915) -> (-128.8987, 90.2915)
  line L9 (-122.5487, 64.8915) -> (-128.8987, 64.8915)
  line L10 (-128.8987, 64.8915) -> (-128.8987, 39.4915)
  line L11 (-128.8987, 39.4915) -> (-122.5487, 39.4915)
  line L12 (-122.5487, 39.4915) -> (-122.5487, 64.8915)
  point P0 (0, 0)
  dimension "d89" = 25.4
  dimension "d90" = 25.4
  dimension "d91" = 25.4
extrude "Extrusion18" cut sketch "Sketch18" against normal blind 6.35 contours L0 L7 L12 L11 | L0 L1 L2 L3
sketch "Sketch19" plane through (0, 0, 0) normal (0, 0, -1) x (-1, 0, 0)
  line L0 (-122.5487, 90.2915) -> (-128.8987, 90.2915) projected
  line L1 (-128.8987, 64.8915) -> (-128.8987, 90.2915) projected
  line L2 (-128.8987, 64.8915) -> (-122.5487, 64.8915) projected
  line L3 (-122.5487, 64.8915) -> (-122.5487, 39.4915) projected
  line L4 (197.4913, 39.4915) -> (203.8413, 39.4915) projected
  line L5 (203.8413, 39.4915) -> (203.8413, 64.8915) projected
  line L6 (203.8413, 64.8915) -> (210.1913, 64.8915) projected
  line L7 (210.1913, 64.8915) -> (210.1913, 90.2915) projected
  line L8 (210.1913, 90.2915) -> (203.8413, 90.2915) projected
  line L9 (203.8413, 90.2915) -> (203.8413, 115.6915) projected
  line L10 (203.8413, 115.6915) -> (172.0913, 115.6915) projected
  line L11 (172.0913, 115.6915) -> (172.0913, 64.8915) projected
  line L12 (172.0913, 64.8915) -> (-90.7987, 64.8915) projected
  line L13 (-90.7987, 64.8915) -> (-90.7987, 115.6915) projected
  line L14 (-90.7987, 115.6915) -> (-122.5487, 115.6915) projected
  line L15 (-122.5487, 115.6915) -> (-122.5487, 90.2915) projected
  circle A0 centre (191.1413, 83.9415) radius 1.9812 projected
  circle A1 centre (-109.8487, 77.5915) radius 1.9812 projected
  line L16 (-81.9087, 38.8107) -> (-56.5087, 38.8107) projected
  line L17 (22.2313, 20.4415) -> (22.2313, -138.3085) projected
  line L18 (-122.5487, 39.4915) -> (197.4913, 39.4915)
  line L19 (-81.9087, 38.8107) -> (-81.9087, 39.4915)
  line L20 (-56.5087, 38.8107) -> (-56.5087, 39.4915)
  point P0 (0, 0)
extrude "Extrusion19" cut sketch "Sketch19" against normal blind 25.4
properties part number "top-bot connector side"
